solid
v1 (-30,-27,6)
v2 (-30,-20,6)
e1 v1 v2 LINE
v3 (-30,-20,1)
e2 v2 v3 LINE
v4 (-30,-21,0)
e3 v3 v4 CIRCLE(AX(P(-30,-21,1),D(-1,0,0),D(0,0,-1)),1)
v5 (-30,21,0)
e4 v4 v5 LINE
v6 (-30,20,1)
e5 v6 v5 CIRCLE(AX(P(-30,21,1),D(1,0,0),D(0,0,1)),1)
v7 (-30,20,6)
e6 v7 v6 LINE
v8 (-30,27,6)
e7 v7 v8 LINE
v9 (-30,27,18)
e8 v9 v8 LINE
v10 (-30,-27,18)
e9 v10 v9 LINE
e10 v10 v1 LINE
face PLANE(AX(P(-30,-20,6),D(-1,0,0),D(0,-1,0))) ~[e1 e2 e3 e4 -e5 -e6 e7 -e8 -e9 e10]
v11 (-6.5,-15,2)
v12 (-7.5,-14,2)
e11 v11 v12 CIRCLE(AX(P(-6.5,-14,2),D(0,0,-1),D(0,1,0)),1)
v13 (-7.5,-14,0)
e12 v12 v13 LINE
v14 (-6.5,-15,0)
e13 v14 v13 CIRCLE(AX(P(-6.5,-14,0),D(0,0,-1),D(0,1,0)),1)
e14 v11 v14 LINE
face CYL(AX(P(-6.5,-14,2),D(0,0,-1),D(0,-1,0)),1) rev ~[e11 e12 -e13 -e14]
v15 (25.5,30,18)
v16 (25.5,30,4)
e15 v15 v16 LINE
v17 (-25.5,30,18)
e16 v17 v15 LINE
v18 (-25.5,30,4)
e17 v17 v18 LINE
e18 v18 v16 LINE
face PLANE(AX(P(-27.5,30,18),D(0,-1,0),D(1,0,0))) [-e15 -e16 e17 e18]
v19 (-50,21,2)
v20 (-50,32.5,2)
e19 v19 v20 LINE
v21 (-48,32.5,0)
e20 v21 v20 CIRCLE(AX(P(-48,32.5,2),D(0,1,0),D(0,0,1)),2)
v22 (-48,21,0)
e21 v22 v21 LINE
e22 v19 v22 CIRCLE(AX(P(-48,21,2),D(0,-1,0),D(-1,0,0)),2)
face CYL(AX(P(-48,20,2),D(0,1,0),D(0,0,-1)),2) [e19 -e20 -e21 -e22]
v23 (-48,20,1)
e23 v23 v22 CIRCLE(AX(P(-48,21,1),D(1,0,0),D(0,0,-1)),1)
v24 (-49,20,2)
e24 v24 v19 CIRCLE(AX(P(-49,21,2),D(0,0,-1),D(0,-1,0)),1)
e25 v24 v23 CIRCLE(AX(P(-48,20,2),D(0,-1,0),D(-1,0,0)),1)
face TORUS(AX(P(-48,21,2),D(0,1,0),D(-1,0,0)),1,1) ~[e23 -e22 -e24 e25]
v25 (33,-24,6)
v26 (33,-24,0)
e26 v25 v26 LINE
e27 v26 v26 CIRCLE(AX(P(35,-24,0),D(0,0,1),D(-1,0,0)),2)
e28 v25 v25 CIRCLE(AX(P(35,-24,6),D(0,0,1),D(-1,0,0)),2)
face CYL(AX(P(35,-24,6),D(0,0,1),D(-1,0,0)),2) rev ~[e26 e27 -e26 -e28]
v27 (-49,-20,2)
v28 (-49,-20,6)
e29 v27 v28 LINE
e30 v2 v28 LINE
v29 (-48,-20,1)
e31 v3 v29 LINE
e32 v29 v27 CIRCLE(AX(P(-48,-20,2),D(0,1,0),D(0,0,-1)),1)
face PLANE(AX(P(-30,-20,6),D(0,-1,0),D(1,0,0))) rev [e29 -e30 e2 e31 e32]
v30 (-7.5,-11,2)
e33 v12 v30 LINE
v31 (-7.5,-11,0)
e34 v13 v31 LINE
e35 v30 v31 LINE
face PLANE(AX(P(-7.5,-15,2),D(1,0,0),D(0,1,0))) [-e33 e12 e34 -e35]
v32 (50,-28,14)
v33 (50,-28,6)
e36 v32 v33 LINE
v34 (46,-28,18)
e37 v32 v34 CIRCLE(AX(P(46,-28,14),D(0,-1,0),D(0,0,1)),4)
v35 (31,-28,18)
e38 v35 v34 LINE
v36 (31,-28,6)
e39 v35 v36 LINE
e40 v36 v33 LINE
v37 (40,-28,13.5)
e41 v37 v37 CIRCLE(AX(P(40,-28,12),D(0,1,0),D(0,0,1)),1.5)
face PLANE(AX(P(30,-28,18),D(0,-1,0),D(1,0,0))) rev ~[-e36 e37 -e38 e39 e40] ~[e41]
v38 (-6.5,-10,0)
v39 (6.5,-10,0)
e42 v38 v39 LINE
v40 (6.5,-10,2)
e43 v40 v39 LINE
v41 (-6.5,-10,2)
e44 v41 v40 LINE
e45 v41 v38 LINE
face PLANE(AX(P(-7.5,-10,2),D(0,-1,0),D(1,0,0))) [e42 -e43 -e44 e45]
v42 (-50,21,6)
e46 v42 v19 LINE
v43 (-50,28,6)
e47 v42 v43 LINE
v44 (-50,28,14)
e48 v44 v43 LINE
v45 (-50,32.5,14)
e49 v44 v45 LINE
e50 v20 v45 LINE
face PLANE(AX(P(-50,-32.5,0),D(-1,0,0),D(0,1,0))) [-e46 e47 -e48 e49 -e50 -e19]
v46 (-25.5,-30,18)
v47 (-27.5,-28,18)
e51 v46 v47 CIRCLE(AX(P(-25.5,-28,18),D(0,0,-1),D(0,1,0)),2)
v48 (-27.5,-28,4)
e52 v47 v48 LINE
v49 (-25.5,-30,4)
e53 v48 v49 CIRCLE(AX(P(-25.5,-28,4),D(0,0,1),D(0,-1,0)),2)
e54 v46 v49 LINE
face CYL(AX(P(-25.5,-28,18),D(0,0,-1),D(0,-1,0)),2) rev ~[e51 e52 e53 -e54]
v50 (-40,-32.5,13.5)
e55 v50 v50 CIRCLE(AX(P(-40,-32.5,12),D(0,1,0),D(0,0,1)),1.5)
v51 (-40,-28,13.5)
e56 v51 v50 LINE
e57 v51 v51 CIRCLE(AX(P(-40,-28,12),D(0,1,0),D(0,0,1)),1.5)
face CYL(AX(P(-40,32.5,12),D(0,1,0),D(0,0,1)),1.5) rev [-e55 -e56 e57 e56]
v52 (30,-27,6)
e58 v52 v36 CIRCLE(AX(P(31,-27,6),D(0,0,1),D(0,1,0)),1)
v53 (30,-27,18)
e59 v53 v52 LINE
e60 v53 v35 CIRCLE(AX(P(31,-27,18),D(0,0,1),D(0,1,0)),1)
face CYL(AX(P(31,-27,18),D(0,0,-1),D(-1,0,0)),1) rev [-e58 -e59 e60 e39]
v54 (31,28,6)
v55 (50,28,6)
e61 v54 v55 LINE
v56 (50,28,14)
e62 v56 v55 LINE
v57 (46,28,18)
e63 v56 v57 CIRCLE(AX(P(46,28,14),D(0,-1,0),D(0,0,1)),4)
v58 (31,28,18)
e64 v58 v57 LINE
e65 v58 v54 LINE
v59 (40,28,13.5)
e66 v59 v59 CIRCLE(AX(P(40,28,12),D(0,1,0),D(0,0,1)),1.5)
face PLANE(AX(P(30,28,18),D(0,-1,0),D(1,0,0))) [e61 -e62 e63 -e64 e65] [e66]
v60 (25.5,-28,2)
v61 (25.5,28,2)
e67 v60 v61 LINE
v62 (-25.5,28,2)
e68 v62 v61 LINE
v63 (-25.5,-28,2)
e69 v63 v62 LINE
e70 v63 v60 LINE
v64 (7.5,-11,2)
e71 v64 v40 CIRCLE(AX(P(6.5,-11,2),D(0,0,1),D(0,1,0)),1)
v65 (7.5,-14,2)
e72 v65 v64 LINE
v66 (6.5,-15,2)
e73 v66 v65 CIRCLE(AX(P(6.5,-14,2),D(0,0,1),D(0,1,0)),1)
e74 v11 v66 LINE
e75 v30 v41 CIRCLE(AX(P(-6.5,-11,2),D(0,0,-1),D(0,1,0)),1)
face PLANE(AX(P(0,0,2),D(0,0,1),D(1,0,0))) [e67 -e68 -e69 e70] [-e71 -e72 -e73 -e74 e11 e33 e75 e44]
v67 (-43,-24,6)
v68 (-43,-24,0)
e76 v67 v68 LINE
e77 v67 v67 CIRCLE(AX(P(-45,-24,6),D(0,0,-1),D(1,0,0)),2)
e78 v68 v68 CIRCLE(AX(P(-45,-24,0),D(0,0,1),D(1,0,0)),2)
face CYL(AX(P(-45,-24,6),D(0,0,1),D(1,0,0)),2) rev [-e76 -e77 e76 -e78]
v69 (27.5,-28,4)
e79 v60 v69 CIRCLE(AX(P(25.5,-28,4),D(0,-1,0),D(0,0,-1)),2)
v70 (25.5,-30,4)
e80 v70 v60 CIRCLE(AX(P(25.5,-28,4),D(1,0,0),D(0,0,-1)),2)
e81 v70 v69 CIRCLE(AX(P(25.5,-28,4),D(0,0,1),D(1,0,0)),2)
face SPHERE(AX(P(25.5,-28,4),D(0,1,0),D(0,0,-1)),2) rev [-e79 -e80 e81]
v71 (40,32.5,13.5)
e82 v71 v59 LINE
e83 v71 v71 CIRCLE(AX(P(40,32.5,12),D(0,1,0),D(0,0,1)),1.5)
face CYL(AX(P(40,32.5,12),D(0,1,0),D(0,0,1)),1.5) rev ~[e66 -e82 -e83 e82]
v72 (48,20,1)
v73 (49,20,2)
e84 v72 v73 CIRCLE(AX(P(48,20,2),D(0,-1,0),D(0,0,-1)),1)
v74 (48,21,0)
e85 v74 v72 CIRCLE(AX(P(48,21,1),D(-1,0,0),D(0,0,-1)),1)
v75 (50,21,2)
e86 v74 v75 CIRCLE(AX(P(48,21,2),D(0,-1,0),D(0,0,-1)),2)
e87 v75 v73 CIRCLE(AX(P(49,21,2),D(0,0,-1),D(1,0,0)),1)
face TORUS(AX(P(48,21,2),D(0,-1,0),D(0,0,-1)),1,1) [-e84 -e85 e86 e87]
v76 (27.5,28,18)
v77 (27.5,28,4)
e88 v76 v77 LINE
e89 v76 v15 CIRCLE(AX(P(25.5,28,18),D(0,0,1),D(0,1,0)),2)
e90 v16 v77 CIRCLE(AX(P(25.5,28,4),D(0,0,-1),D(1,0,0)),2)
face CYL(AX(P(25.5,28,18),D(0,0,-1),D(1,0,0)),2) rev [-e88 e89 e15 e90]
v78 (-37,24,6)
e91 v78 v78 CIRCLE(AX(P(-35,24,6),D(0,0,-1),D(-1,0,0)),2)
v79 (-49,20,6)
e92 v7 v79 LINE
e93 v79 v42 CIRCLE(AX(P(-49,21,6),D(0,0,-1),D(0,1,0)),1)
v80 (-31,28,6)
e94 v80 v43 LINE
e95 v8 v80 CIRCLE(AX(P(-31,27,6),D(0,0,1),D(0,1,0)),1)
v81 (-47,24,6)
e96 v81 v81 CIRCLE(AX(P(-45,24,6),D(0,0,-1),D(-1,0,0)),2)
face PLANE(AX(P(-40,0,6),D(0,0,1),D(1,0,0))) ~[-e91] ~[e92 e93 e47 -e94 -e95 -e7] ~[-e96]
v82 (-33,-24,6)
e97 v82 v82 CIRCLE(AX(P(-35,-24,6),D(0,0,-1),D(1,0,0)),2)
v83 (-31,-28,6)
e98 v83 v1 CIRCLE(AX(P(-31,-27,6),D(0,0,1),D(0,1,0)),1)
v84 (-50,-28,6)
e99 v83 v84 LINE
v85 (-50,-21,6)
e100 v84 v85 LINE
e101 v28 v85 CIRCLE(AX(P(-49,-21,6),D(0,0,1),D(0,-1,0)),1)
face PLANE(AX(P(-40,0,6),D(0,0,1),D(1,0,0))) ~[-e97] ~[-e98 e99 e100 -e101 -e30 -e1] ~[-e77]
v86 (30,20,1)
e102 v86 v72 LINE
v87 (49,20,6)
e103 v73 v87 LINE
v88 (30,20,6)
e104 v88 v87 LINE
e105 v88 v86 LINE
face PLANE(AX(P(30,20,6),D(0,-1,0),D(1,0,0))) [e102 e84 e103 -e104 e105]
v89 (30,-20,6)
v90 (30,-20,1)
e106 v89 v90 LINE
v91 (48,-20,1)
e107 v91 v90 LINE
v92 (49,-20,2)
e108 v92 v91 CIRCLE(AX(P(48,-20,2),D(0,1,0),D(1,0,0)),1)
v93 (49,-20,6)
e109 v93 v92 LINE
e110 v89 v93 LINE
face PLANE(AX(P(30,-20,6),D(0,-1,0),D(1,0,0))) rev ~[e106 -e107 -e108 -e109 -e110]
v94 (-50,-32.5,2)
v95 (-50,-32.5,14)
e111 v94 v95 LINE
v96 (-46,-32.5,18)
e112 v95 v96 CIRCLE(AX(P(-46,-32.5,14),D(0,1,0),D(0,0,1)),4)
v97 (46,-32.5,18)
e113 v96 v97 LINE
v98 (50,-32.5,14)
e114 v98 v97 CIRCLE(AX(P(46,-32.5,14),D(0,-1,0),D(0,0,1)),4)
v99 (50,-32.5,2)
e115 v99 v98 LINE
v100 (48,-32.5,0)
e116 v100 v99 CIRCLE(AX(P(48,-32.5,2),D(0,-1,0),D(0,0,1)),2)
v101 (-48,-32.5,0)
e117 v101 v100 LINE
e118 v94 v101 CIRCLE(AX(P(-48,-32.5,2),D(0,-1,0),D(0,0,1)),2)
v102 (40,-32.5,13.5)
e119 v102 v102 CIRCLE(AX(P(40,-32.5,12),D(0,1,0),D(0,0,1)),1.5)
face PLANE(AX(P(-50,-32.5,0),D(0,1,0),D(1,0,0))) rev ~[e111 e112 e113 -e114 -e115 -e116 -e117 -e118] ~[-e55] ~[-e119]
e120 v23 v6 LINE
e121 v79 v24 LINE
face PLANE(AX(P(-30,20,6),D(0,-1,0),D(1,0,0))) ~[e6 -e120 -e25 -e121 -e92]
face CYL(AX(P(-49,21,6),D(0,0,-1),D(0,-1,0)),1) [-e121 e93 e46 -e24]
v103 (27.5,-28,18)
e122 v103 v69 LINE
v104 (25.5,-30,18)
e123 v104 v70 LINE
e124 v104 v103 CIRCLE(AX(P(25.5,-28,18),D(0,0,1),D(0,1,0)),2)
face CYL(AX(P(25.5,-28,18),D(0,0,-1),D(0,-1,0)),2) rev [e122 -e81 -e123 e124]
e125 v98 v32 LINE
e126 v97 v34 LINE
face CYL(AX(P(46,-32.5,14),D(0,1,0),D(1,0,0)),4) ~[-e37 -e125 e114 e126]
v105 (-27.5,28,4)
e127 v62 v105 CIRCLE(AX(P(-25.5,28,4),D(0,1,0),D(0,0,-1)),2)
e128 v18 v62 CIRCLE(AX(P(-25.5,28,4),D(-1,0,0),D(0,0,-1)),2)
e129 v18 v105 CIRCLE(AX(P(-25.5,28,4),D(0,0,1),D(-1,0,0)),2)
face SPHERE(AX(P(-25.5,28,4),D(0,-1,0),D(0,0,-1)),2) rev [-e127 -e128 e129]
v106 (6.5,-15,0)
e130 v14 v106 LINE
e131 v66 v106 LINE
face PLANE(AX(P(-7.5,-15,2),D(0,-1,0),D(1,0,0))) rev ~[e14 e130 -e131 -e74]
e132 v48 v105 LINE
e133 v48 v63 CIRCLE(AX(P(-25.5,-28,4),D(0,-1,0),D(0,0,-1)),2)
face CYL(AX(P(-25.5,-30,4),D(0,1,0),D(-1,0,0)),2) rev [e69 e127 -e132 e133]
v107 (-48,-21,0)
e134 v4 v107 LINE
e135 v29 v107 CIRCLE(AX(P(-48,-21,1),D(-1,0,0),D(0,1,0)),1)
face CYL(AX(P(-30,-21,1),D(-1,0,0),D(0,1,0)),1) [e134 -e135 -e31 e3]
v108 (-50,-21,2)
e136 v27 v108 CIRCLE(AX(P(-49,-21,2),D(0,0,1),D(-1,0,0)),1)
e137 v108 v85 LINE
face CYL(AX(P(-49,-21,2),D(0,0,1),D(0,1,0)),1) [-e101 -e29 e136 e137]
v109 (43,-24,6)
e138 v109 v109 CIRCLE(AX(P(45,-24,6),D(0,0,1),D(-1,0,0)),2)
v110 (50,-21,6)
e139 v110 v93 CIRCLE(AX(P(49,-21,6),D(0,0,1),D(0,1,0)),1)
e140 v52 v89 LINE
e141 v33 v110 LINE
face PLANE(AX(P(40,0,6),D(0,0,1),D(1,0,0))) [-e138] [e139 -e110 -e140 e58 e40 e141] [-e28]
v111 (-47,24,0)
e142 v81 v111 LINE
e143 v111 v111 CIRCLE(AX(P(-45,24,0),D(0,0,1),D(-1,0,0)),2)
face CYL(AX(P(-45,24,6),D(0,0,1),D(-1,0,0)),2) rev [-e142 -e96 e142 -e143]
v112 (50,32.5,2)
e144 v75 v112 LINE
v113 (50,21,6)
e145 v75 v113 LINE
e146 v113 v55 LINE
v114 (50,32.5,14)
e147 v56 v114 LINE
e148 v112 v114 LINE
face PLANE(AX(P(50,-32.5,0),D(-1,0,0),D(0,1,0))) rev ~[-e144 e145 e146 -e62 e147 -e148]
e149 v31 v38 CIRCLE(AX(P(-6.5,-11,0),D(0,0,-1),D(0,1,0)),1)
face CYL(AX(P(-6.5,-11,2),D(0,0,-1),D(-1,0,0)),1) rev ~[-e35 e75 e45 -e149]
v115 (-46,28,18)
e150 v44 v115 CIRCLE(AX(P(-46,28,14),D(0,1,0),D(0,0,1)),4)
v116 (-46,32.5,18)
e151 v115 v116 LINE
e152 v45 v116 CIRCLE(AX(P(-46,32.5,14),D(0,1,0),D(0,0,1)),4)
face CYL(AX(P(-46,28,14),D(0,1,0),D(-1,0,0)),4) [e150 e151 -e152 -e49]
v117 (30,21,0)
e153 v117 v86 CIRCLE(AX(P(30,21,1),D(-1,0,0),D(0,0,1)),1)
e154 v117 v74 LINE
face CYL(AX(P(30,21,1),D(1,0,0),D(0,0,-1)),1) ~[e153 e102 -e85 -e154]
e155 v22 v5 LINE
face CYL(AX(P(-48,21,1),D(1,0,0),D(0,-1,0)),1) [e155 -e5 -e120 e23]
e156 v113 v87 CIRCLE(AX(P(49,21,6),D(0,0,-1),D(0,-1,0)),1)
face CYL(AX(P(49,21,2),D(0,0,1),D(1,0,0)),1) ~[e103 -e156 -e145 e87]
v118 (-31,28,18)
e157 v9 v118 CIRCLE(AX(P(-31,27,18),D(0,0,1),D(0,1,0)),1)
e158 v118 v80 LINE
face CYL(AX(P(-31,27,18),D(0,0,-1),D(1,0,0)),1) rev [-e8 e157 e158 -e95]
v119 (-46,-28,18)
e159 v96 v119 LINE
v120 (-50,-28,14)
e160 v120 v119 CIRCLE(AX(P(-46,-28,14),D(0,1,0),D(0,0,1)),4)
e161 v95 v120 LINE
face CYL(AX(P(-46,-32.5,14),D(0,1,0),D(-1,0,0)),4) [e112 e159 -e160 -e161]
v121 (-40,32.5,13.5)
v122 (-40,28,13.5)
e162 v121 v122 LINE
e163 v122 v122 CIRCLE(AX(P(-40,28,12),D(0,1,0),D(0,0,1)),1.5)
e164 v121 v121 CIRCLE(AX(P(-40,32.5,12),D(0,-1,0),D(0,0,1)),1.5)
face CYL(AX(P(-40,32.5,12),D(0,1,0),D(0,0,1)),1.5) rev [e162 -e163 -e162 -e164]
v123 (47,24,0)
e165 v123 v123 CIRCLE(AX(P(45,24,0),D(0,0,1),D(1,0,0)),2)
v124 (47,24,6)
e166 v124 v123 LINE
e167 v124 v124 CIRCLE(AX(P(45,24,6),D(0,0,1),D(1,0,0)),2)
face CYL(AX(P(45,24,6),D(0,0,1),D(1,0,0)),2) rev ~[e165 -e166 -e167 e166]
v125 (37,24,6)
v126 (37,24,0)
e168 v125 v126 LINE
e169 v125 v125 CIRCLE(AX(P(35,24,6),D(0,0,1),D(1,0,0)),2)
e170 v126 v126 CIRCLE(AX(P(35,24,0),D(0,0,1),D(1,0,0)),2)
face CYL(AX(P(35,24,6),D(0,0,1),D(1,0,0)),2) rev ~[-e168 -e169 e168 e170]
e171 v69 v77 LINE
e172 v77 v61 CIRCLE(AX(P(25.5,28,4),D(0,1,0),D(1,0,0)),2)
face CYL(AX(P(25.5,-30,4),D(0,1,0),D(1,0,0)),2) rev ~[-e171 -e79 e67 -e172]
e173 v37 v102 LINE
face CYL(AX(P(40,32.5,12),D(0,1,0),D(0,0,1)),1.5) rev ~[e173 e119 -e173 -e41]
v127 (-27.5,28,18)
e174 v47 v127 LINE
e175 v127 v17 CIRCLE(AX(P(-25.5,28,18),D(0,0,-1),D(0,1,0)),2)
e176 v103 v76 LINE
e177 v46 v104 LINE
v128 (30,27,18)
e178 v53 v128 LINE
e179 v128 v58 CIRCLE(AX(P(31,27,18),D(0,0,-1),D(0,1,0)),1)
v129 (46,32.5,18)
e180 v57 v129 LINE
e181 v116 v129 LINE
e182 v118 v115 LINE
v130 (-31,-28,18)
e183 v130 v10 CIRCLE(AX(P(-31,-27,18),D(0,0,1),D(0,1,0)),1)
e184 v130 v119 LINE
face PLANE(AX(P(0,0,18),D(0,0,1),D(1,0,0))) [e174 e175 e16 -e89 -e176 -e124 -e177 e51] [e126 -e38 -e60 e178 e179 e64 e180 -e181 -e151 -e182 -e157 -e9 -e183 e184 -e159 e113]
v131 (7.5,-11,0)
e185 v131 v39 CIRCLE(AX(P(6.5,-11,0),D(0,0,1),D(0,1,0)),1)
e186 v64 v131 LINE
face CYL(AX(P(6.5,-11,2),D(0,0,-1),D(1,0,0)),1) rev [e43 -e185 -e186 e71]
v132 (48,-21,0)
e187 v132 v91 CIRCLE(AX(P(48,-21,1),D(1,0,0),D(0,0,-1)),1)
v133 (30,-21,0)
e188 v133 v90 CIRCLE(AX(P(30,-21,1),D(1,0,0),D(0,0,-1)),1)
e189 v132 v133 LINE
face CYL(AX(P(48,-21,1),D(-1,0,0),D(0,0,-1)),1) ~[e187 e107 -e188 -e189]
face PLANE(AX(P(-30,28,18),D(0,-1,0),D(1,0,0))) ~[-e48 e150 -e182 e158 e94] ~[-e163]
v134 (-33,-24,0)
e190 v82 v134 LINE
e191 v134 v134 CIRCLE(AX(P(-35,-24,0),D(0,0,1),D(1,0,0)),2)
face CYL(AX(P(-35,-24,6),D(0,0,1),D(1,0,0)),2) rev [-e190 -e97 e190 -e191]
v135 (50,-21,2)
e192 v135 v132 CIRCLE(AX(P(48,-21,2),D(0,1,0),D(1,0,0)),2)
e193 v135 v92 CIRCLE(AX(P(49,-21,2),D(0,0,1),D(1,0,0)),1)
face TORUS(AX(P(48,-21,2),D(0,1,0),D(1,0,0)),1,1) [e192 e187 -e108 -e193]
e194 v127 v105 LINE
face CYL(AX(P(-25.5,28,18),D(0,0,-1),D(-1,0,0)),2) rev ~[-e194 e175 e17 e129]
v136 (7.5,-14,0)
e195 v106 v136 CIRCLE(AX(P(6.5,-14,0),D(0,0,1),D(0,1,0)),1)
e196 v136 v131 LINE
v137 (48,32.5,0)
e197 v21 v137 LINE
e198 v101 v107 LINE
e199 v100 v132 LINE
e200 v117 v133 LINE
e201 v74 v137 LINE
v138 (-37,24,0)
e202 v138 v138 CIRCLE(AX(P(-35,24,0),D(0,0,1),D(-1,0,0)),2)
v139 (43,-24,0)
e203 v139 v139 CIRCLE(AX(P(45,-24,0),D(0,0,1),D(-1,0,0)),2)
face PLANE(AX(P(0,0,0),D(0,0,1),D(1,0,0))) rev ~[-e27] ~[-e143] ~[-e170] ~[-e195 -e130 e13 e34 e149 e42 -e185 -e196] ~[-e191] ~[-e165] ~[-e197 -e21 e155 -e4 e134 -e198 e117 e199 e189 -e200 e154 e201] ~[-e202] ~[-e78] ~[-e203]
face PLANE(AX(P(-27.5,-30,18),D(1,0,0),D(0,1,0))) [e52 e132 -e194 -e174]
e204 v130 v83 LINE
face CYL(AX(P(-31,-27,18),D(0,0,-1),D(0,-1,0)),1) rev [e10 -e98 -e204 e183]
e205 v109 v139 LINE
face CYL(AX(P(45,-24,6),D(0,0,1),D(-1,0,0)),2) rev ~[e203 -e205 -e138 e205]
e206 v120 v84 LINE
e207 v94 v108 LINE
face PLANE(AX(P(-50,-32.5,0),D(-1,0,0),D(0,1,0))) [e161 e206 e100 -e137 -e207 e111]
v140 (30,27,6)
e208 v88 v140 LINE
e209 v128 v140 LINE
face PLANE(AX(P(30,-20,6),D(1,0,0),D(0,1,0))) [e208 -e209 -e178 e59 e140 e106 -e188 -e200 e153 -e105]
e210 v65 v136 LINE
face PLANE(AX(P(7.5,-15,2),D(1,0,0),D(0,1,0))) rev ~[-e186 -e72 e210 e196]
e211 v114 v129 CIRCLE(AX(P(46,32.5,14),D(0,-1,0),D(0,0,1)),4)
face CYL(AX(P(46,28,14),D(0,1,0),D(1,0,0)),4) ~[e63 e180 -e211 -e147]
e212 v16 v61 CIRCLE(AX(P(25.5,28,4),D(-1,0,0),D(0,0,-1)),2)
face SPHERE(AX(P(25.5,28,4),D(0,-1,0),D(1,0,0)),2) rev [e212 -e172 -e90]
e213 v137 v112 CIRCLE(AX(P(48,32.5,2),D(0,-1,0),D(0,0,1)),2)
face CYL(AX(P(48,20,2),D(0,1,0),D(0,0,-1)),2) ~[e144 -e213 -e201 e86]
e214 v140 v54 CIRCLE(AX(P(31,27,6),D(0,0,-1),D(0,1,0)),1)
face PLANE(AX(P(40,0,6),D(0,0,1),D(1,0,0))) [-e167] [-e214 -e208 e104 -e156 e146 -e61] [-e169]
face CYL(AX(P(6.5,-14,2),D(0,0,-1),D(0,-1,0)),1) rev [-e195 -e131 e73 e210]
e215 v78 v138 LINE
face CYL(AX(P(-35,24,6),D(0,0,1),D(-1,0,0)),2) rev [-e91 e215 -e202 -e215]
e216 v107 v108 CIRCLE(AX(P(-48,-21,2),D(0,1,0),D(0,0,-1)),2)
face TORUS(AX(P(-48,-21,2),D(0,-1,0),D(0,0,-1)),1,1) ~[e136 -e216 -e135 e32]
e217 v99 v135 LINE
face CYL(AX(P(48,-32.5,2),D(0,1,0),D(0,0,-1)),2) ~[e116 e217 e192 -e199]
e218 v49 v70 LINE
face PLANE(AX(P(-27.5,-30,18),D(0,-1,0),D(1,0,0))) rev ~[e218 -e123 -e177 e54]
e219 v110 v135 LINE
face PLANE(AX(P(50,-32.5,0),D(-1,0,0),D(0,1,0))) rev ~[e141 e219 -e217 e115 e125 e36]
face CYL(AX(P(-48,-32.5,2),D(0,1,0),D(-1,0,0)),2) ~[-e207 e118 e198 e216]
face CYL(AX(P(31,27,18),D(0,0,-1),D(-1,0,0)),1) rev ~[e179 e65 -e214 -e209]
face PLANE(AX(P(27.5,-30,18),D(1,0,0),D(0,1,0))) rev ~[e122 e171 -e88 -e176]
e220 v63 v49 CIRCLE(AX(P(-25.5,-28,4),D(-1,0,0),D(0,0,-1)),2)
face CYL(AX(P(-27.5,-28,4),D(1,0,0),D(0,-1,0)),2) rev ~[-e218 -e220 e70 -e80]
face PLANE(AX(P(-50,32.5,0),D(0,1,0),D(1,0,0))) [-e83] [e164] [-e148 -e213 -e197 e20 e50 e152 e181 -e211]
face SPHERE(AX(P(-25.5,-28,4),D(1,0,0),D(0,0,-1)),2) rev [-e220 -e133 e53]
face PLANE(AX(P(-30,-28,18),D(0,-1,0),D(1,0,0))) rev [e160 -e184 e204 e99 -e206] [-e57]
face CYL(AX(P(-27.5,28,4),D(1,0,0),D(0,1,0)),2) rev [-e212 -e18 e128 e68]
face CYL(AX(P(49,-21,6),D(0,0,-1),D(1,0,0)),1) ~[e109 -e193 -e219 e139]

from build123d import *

# Parameters (mm, degrees)
SKETCH_1_W          = 100
SKETCH_1_H          = 65
EXTRUDE_1_DEPTH     = 18
SKETCH_2_W          = 55
SKETCH_2_H          = 60
CUT_EXTRUDE_1_DEPTH = 16
SKETCH_3_W          = 15
SKETCH_3_H          = 5
CUT_EXTRUDE_2_DEPTH = 62.743420702
SKETCH_4_W          = 20
SKETCH_4_H          = 56
CUT_EXTRUDE_3_DEPTH = 12
SKETCH_5_W          = 20
SKETCH_5_H          = 40
CUT_EXTRUDE_4_DEPTH = 61.829680256
SKETCH_6_R          = 2
CUT_EXTRUDE_5_DEPTH = 61.829680256
SKETCH_7_R          = 1.5
CUT_EXTRUDE_6_DEPTH = 84.958322994
FILLET_1_R          = 2
FILLET_2_R          = 1
FILLET_3_R          = 4
FILLET_4_R          = 2
FILLET_5_R          = 1


with BuildPart() as part:
    # 草图1 → 凸台-拉伸1 (new body)
    with BuildSketch(Plane.XY):
        Rectangle(SKETCH_1_W, SKETCH_1_H)
    extrude(amount=EXTRUDE_1_DEPTH)

    # 草图2 → 切除-拉伸1 (cut)
    with BuildSketch(Plane.XY.offset(18)):
        Rectangle(SKETCH_2_W, SKETCH_2_H)
    extrude(amount=-CUT_EXTRUDE_1_DEPTH, mode=Mode.SUBTRACT)

    # 草图3 → 切除-拉伸2 (cut, through all)
    with BuildSketch(Plane.XY.offset(2)):
        with Locations((0, -12.5)):
            Rectangle(SKETCH_3_W, SKETCH_3_H)
    extrude(amount=-CUT_EXTRUDE_2_DEPTH, mode=Mode.SUBTRACT)

    # 草图4 → 切除-拉伸3 (cut)
    with BuildSketch(Plane.XY.offset(18)):
        with Locations((40, 0)):
            Rectangle(SKETCH_4_W, SKETCH_4_H)
    cut_extrude_3 = extrude(amount=-CUT_EXTRUDE_3_DEPTH, mode=Mode.SUBTRACT)

    # 草图5 → 切除-拉伸4 (cut, through all)
    with BuildSketch(Plane.XY.offset(6)):
        with Locations((40, 0)):
            Rectangle(SKETCH_5_W, SKETCH_5_H)
    cut_extrude_4 = extrude(amount=-CUT_EXTRUDE_4_DEPTH, mode=Mode.SUBTRACT)

    # 草图6 → 切除-拉伸5 (cut, through all)
    with BuildSketch(Plane.XY.offset(6)):
        with Locations((45, 24)):
            Circle(SKETCH_6_R)
        with Locations((35, 24)):
            Circle(SKETCH_6_R)
        with Locations(Location((35, -24, 0), (0, 0, 180))):
            Circle(SKETCH_6_R)
        with Locations(Location((45, -24, 0), (0, 0, 180))):
            Circle(SKETCH_6_R)
    cut_extrude_5 = extrude(amount=-CUT_EXTRUDE_5_DEPTH, mode=Mode.SUBTRACT)

    # 草图7 → 切除-拉伸6 (cut, through all)
    with BuildSketch(Plane(origin=(0, 32.5, 0), x_dir=(1, 0, 0), z_dir=(0, 1, 0))):
        with Locations(Location((40, -12, 0), (0, 0, 270))):
            Circle(SKETCH_7_R)
    cut_extrude_6 = extrude(amount=-CUT_EXTRUDE_6_DEPTH, mode=Mode.SUBTRACT)

    # 镜向1: 切除-拉伸3, 切除-拉伸4, 切除-拉伸5, 切除-拉伸6 across plane
    add(cut_extrude_3.mirror(Plane(origin=(0, 0, 0), x_dir=(0, 0, 1), z_dir=(1, 0, 0))), mode=Mode.SUBTRACT)
    add(cut_extrude_4.mirror(Plane(origin=(0, 0, 0), x_dir=(0, 0, 1), z_dir=(1, 0, 0))), mode=Mode.SUBTRACT)
    add(cut_extrude_5.mirror(Plane(origin=(0, 0, 0), x_dir=(0, 0, 1), z_dir=(1, 0, 0))), mode=Mode.SUBTRACT)
    add(cut_extrude_6.mirror(Plane(origin=(0, 0, 0), x_dir=(0, 0, 1), z_dir=(1, 0, 0))), mode=Mode.SUBTRACT)

    # 圆角1
    fillet_1_edges = [part.edges().sort_by_distance(p)[0] for p in [
        (27.5, 0, 2),
        (27.5, 30, 10),
        (0, -30, 2),
        (27.5, -30, 10),
        (-27.5, 0, 2),
        (-27.5, -30, 10),
        (0, 30, 2),
        (-27.5, 30, 10),
    ]]
    fillet(fillet_1_edges, radius=FILLET_1_R)

    # 圆角2
    fillet_2_edges = [part.edges().sort_by_distance(p)[0] for p in [
        (7.5, -10, 1),
        (7.5, -15, 1),
        (-7.5, -15, 1),
        (-7.5, -10, 1),
    ]]
    fillet(fillet_2_edges, radius=FILLET_2_R)

    # 圆角3
    fillet_3_edges = [part.edges().sort_by_distance(p)[0] for p in [
        (-50, 30.25, 18),
        (50, -30.25, 18),
        (50, 30.25, 18),
        (-50, -30.25, 18),
    ]]
    fillet(fillet_3_edges, radius=FILLET_3_R)

    # 圆角4
    fillet_4_edges = [part.edges().sort_by_distance(p)[0] for p in [
        (-50, -26.25, 0),
        (-50, 26.25, 0),
        (50, -26.25, 0),
        (50, 26.25, 0),
    ]]
    fillet(fillet_4_edges, radius=FILLET_4_R)

    # 圆角5
    fillet_5_edges = [part.edges().sort_by_distance(p)[0] for p in [
        (-30, 28, 12),
        (-30, -28, 12),
        (-39, -20, 0),
        (-50, 20, 4),
        (-39, 20, 0),
        (-49.414213562, 20, 0.585786438),
        (39, 20, 0),
        (-50, -20, 4),
        (-49.414213562, -20, 0.585786438),
        (50, -20, 4),
        (49.414213562, -20, 0.585786438),
        (50, 20, 4),
        (49.414213562, 20, 0.585786438),
        (30, 28, 12),
        (30, -28, 12),
        (39, -20, 0),
    ]]
    fillet(fillet_5_edges, radius=FILLET_5_R)


solid = part.part
